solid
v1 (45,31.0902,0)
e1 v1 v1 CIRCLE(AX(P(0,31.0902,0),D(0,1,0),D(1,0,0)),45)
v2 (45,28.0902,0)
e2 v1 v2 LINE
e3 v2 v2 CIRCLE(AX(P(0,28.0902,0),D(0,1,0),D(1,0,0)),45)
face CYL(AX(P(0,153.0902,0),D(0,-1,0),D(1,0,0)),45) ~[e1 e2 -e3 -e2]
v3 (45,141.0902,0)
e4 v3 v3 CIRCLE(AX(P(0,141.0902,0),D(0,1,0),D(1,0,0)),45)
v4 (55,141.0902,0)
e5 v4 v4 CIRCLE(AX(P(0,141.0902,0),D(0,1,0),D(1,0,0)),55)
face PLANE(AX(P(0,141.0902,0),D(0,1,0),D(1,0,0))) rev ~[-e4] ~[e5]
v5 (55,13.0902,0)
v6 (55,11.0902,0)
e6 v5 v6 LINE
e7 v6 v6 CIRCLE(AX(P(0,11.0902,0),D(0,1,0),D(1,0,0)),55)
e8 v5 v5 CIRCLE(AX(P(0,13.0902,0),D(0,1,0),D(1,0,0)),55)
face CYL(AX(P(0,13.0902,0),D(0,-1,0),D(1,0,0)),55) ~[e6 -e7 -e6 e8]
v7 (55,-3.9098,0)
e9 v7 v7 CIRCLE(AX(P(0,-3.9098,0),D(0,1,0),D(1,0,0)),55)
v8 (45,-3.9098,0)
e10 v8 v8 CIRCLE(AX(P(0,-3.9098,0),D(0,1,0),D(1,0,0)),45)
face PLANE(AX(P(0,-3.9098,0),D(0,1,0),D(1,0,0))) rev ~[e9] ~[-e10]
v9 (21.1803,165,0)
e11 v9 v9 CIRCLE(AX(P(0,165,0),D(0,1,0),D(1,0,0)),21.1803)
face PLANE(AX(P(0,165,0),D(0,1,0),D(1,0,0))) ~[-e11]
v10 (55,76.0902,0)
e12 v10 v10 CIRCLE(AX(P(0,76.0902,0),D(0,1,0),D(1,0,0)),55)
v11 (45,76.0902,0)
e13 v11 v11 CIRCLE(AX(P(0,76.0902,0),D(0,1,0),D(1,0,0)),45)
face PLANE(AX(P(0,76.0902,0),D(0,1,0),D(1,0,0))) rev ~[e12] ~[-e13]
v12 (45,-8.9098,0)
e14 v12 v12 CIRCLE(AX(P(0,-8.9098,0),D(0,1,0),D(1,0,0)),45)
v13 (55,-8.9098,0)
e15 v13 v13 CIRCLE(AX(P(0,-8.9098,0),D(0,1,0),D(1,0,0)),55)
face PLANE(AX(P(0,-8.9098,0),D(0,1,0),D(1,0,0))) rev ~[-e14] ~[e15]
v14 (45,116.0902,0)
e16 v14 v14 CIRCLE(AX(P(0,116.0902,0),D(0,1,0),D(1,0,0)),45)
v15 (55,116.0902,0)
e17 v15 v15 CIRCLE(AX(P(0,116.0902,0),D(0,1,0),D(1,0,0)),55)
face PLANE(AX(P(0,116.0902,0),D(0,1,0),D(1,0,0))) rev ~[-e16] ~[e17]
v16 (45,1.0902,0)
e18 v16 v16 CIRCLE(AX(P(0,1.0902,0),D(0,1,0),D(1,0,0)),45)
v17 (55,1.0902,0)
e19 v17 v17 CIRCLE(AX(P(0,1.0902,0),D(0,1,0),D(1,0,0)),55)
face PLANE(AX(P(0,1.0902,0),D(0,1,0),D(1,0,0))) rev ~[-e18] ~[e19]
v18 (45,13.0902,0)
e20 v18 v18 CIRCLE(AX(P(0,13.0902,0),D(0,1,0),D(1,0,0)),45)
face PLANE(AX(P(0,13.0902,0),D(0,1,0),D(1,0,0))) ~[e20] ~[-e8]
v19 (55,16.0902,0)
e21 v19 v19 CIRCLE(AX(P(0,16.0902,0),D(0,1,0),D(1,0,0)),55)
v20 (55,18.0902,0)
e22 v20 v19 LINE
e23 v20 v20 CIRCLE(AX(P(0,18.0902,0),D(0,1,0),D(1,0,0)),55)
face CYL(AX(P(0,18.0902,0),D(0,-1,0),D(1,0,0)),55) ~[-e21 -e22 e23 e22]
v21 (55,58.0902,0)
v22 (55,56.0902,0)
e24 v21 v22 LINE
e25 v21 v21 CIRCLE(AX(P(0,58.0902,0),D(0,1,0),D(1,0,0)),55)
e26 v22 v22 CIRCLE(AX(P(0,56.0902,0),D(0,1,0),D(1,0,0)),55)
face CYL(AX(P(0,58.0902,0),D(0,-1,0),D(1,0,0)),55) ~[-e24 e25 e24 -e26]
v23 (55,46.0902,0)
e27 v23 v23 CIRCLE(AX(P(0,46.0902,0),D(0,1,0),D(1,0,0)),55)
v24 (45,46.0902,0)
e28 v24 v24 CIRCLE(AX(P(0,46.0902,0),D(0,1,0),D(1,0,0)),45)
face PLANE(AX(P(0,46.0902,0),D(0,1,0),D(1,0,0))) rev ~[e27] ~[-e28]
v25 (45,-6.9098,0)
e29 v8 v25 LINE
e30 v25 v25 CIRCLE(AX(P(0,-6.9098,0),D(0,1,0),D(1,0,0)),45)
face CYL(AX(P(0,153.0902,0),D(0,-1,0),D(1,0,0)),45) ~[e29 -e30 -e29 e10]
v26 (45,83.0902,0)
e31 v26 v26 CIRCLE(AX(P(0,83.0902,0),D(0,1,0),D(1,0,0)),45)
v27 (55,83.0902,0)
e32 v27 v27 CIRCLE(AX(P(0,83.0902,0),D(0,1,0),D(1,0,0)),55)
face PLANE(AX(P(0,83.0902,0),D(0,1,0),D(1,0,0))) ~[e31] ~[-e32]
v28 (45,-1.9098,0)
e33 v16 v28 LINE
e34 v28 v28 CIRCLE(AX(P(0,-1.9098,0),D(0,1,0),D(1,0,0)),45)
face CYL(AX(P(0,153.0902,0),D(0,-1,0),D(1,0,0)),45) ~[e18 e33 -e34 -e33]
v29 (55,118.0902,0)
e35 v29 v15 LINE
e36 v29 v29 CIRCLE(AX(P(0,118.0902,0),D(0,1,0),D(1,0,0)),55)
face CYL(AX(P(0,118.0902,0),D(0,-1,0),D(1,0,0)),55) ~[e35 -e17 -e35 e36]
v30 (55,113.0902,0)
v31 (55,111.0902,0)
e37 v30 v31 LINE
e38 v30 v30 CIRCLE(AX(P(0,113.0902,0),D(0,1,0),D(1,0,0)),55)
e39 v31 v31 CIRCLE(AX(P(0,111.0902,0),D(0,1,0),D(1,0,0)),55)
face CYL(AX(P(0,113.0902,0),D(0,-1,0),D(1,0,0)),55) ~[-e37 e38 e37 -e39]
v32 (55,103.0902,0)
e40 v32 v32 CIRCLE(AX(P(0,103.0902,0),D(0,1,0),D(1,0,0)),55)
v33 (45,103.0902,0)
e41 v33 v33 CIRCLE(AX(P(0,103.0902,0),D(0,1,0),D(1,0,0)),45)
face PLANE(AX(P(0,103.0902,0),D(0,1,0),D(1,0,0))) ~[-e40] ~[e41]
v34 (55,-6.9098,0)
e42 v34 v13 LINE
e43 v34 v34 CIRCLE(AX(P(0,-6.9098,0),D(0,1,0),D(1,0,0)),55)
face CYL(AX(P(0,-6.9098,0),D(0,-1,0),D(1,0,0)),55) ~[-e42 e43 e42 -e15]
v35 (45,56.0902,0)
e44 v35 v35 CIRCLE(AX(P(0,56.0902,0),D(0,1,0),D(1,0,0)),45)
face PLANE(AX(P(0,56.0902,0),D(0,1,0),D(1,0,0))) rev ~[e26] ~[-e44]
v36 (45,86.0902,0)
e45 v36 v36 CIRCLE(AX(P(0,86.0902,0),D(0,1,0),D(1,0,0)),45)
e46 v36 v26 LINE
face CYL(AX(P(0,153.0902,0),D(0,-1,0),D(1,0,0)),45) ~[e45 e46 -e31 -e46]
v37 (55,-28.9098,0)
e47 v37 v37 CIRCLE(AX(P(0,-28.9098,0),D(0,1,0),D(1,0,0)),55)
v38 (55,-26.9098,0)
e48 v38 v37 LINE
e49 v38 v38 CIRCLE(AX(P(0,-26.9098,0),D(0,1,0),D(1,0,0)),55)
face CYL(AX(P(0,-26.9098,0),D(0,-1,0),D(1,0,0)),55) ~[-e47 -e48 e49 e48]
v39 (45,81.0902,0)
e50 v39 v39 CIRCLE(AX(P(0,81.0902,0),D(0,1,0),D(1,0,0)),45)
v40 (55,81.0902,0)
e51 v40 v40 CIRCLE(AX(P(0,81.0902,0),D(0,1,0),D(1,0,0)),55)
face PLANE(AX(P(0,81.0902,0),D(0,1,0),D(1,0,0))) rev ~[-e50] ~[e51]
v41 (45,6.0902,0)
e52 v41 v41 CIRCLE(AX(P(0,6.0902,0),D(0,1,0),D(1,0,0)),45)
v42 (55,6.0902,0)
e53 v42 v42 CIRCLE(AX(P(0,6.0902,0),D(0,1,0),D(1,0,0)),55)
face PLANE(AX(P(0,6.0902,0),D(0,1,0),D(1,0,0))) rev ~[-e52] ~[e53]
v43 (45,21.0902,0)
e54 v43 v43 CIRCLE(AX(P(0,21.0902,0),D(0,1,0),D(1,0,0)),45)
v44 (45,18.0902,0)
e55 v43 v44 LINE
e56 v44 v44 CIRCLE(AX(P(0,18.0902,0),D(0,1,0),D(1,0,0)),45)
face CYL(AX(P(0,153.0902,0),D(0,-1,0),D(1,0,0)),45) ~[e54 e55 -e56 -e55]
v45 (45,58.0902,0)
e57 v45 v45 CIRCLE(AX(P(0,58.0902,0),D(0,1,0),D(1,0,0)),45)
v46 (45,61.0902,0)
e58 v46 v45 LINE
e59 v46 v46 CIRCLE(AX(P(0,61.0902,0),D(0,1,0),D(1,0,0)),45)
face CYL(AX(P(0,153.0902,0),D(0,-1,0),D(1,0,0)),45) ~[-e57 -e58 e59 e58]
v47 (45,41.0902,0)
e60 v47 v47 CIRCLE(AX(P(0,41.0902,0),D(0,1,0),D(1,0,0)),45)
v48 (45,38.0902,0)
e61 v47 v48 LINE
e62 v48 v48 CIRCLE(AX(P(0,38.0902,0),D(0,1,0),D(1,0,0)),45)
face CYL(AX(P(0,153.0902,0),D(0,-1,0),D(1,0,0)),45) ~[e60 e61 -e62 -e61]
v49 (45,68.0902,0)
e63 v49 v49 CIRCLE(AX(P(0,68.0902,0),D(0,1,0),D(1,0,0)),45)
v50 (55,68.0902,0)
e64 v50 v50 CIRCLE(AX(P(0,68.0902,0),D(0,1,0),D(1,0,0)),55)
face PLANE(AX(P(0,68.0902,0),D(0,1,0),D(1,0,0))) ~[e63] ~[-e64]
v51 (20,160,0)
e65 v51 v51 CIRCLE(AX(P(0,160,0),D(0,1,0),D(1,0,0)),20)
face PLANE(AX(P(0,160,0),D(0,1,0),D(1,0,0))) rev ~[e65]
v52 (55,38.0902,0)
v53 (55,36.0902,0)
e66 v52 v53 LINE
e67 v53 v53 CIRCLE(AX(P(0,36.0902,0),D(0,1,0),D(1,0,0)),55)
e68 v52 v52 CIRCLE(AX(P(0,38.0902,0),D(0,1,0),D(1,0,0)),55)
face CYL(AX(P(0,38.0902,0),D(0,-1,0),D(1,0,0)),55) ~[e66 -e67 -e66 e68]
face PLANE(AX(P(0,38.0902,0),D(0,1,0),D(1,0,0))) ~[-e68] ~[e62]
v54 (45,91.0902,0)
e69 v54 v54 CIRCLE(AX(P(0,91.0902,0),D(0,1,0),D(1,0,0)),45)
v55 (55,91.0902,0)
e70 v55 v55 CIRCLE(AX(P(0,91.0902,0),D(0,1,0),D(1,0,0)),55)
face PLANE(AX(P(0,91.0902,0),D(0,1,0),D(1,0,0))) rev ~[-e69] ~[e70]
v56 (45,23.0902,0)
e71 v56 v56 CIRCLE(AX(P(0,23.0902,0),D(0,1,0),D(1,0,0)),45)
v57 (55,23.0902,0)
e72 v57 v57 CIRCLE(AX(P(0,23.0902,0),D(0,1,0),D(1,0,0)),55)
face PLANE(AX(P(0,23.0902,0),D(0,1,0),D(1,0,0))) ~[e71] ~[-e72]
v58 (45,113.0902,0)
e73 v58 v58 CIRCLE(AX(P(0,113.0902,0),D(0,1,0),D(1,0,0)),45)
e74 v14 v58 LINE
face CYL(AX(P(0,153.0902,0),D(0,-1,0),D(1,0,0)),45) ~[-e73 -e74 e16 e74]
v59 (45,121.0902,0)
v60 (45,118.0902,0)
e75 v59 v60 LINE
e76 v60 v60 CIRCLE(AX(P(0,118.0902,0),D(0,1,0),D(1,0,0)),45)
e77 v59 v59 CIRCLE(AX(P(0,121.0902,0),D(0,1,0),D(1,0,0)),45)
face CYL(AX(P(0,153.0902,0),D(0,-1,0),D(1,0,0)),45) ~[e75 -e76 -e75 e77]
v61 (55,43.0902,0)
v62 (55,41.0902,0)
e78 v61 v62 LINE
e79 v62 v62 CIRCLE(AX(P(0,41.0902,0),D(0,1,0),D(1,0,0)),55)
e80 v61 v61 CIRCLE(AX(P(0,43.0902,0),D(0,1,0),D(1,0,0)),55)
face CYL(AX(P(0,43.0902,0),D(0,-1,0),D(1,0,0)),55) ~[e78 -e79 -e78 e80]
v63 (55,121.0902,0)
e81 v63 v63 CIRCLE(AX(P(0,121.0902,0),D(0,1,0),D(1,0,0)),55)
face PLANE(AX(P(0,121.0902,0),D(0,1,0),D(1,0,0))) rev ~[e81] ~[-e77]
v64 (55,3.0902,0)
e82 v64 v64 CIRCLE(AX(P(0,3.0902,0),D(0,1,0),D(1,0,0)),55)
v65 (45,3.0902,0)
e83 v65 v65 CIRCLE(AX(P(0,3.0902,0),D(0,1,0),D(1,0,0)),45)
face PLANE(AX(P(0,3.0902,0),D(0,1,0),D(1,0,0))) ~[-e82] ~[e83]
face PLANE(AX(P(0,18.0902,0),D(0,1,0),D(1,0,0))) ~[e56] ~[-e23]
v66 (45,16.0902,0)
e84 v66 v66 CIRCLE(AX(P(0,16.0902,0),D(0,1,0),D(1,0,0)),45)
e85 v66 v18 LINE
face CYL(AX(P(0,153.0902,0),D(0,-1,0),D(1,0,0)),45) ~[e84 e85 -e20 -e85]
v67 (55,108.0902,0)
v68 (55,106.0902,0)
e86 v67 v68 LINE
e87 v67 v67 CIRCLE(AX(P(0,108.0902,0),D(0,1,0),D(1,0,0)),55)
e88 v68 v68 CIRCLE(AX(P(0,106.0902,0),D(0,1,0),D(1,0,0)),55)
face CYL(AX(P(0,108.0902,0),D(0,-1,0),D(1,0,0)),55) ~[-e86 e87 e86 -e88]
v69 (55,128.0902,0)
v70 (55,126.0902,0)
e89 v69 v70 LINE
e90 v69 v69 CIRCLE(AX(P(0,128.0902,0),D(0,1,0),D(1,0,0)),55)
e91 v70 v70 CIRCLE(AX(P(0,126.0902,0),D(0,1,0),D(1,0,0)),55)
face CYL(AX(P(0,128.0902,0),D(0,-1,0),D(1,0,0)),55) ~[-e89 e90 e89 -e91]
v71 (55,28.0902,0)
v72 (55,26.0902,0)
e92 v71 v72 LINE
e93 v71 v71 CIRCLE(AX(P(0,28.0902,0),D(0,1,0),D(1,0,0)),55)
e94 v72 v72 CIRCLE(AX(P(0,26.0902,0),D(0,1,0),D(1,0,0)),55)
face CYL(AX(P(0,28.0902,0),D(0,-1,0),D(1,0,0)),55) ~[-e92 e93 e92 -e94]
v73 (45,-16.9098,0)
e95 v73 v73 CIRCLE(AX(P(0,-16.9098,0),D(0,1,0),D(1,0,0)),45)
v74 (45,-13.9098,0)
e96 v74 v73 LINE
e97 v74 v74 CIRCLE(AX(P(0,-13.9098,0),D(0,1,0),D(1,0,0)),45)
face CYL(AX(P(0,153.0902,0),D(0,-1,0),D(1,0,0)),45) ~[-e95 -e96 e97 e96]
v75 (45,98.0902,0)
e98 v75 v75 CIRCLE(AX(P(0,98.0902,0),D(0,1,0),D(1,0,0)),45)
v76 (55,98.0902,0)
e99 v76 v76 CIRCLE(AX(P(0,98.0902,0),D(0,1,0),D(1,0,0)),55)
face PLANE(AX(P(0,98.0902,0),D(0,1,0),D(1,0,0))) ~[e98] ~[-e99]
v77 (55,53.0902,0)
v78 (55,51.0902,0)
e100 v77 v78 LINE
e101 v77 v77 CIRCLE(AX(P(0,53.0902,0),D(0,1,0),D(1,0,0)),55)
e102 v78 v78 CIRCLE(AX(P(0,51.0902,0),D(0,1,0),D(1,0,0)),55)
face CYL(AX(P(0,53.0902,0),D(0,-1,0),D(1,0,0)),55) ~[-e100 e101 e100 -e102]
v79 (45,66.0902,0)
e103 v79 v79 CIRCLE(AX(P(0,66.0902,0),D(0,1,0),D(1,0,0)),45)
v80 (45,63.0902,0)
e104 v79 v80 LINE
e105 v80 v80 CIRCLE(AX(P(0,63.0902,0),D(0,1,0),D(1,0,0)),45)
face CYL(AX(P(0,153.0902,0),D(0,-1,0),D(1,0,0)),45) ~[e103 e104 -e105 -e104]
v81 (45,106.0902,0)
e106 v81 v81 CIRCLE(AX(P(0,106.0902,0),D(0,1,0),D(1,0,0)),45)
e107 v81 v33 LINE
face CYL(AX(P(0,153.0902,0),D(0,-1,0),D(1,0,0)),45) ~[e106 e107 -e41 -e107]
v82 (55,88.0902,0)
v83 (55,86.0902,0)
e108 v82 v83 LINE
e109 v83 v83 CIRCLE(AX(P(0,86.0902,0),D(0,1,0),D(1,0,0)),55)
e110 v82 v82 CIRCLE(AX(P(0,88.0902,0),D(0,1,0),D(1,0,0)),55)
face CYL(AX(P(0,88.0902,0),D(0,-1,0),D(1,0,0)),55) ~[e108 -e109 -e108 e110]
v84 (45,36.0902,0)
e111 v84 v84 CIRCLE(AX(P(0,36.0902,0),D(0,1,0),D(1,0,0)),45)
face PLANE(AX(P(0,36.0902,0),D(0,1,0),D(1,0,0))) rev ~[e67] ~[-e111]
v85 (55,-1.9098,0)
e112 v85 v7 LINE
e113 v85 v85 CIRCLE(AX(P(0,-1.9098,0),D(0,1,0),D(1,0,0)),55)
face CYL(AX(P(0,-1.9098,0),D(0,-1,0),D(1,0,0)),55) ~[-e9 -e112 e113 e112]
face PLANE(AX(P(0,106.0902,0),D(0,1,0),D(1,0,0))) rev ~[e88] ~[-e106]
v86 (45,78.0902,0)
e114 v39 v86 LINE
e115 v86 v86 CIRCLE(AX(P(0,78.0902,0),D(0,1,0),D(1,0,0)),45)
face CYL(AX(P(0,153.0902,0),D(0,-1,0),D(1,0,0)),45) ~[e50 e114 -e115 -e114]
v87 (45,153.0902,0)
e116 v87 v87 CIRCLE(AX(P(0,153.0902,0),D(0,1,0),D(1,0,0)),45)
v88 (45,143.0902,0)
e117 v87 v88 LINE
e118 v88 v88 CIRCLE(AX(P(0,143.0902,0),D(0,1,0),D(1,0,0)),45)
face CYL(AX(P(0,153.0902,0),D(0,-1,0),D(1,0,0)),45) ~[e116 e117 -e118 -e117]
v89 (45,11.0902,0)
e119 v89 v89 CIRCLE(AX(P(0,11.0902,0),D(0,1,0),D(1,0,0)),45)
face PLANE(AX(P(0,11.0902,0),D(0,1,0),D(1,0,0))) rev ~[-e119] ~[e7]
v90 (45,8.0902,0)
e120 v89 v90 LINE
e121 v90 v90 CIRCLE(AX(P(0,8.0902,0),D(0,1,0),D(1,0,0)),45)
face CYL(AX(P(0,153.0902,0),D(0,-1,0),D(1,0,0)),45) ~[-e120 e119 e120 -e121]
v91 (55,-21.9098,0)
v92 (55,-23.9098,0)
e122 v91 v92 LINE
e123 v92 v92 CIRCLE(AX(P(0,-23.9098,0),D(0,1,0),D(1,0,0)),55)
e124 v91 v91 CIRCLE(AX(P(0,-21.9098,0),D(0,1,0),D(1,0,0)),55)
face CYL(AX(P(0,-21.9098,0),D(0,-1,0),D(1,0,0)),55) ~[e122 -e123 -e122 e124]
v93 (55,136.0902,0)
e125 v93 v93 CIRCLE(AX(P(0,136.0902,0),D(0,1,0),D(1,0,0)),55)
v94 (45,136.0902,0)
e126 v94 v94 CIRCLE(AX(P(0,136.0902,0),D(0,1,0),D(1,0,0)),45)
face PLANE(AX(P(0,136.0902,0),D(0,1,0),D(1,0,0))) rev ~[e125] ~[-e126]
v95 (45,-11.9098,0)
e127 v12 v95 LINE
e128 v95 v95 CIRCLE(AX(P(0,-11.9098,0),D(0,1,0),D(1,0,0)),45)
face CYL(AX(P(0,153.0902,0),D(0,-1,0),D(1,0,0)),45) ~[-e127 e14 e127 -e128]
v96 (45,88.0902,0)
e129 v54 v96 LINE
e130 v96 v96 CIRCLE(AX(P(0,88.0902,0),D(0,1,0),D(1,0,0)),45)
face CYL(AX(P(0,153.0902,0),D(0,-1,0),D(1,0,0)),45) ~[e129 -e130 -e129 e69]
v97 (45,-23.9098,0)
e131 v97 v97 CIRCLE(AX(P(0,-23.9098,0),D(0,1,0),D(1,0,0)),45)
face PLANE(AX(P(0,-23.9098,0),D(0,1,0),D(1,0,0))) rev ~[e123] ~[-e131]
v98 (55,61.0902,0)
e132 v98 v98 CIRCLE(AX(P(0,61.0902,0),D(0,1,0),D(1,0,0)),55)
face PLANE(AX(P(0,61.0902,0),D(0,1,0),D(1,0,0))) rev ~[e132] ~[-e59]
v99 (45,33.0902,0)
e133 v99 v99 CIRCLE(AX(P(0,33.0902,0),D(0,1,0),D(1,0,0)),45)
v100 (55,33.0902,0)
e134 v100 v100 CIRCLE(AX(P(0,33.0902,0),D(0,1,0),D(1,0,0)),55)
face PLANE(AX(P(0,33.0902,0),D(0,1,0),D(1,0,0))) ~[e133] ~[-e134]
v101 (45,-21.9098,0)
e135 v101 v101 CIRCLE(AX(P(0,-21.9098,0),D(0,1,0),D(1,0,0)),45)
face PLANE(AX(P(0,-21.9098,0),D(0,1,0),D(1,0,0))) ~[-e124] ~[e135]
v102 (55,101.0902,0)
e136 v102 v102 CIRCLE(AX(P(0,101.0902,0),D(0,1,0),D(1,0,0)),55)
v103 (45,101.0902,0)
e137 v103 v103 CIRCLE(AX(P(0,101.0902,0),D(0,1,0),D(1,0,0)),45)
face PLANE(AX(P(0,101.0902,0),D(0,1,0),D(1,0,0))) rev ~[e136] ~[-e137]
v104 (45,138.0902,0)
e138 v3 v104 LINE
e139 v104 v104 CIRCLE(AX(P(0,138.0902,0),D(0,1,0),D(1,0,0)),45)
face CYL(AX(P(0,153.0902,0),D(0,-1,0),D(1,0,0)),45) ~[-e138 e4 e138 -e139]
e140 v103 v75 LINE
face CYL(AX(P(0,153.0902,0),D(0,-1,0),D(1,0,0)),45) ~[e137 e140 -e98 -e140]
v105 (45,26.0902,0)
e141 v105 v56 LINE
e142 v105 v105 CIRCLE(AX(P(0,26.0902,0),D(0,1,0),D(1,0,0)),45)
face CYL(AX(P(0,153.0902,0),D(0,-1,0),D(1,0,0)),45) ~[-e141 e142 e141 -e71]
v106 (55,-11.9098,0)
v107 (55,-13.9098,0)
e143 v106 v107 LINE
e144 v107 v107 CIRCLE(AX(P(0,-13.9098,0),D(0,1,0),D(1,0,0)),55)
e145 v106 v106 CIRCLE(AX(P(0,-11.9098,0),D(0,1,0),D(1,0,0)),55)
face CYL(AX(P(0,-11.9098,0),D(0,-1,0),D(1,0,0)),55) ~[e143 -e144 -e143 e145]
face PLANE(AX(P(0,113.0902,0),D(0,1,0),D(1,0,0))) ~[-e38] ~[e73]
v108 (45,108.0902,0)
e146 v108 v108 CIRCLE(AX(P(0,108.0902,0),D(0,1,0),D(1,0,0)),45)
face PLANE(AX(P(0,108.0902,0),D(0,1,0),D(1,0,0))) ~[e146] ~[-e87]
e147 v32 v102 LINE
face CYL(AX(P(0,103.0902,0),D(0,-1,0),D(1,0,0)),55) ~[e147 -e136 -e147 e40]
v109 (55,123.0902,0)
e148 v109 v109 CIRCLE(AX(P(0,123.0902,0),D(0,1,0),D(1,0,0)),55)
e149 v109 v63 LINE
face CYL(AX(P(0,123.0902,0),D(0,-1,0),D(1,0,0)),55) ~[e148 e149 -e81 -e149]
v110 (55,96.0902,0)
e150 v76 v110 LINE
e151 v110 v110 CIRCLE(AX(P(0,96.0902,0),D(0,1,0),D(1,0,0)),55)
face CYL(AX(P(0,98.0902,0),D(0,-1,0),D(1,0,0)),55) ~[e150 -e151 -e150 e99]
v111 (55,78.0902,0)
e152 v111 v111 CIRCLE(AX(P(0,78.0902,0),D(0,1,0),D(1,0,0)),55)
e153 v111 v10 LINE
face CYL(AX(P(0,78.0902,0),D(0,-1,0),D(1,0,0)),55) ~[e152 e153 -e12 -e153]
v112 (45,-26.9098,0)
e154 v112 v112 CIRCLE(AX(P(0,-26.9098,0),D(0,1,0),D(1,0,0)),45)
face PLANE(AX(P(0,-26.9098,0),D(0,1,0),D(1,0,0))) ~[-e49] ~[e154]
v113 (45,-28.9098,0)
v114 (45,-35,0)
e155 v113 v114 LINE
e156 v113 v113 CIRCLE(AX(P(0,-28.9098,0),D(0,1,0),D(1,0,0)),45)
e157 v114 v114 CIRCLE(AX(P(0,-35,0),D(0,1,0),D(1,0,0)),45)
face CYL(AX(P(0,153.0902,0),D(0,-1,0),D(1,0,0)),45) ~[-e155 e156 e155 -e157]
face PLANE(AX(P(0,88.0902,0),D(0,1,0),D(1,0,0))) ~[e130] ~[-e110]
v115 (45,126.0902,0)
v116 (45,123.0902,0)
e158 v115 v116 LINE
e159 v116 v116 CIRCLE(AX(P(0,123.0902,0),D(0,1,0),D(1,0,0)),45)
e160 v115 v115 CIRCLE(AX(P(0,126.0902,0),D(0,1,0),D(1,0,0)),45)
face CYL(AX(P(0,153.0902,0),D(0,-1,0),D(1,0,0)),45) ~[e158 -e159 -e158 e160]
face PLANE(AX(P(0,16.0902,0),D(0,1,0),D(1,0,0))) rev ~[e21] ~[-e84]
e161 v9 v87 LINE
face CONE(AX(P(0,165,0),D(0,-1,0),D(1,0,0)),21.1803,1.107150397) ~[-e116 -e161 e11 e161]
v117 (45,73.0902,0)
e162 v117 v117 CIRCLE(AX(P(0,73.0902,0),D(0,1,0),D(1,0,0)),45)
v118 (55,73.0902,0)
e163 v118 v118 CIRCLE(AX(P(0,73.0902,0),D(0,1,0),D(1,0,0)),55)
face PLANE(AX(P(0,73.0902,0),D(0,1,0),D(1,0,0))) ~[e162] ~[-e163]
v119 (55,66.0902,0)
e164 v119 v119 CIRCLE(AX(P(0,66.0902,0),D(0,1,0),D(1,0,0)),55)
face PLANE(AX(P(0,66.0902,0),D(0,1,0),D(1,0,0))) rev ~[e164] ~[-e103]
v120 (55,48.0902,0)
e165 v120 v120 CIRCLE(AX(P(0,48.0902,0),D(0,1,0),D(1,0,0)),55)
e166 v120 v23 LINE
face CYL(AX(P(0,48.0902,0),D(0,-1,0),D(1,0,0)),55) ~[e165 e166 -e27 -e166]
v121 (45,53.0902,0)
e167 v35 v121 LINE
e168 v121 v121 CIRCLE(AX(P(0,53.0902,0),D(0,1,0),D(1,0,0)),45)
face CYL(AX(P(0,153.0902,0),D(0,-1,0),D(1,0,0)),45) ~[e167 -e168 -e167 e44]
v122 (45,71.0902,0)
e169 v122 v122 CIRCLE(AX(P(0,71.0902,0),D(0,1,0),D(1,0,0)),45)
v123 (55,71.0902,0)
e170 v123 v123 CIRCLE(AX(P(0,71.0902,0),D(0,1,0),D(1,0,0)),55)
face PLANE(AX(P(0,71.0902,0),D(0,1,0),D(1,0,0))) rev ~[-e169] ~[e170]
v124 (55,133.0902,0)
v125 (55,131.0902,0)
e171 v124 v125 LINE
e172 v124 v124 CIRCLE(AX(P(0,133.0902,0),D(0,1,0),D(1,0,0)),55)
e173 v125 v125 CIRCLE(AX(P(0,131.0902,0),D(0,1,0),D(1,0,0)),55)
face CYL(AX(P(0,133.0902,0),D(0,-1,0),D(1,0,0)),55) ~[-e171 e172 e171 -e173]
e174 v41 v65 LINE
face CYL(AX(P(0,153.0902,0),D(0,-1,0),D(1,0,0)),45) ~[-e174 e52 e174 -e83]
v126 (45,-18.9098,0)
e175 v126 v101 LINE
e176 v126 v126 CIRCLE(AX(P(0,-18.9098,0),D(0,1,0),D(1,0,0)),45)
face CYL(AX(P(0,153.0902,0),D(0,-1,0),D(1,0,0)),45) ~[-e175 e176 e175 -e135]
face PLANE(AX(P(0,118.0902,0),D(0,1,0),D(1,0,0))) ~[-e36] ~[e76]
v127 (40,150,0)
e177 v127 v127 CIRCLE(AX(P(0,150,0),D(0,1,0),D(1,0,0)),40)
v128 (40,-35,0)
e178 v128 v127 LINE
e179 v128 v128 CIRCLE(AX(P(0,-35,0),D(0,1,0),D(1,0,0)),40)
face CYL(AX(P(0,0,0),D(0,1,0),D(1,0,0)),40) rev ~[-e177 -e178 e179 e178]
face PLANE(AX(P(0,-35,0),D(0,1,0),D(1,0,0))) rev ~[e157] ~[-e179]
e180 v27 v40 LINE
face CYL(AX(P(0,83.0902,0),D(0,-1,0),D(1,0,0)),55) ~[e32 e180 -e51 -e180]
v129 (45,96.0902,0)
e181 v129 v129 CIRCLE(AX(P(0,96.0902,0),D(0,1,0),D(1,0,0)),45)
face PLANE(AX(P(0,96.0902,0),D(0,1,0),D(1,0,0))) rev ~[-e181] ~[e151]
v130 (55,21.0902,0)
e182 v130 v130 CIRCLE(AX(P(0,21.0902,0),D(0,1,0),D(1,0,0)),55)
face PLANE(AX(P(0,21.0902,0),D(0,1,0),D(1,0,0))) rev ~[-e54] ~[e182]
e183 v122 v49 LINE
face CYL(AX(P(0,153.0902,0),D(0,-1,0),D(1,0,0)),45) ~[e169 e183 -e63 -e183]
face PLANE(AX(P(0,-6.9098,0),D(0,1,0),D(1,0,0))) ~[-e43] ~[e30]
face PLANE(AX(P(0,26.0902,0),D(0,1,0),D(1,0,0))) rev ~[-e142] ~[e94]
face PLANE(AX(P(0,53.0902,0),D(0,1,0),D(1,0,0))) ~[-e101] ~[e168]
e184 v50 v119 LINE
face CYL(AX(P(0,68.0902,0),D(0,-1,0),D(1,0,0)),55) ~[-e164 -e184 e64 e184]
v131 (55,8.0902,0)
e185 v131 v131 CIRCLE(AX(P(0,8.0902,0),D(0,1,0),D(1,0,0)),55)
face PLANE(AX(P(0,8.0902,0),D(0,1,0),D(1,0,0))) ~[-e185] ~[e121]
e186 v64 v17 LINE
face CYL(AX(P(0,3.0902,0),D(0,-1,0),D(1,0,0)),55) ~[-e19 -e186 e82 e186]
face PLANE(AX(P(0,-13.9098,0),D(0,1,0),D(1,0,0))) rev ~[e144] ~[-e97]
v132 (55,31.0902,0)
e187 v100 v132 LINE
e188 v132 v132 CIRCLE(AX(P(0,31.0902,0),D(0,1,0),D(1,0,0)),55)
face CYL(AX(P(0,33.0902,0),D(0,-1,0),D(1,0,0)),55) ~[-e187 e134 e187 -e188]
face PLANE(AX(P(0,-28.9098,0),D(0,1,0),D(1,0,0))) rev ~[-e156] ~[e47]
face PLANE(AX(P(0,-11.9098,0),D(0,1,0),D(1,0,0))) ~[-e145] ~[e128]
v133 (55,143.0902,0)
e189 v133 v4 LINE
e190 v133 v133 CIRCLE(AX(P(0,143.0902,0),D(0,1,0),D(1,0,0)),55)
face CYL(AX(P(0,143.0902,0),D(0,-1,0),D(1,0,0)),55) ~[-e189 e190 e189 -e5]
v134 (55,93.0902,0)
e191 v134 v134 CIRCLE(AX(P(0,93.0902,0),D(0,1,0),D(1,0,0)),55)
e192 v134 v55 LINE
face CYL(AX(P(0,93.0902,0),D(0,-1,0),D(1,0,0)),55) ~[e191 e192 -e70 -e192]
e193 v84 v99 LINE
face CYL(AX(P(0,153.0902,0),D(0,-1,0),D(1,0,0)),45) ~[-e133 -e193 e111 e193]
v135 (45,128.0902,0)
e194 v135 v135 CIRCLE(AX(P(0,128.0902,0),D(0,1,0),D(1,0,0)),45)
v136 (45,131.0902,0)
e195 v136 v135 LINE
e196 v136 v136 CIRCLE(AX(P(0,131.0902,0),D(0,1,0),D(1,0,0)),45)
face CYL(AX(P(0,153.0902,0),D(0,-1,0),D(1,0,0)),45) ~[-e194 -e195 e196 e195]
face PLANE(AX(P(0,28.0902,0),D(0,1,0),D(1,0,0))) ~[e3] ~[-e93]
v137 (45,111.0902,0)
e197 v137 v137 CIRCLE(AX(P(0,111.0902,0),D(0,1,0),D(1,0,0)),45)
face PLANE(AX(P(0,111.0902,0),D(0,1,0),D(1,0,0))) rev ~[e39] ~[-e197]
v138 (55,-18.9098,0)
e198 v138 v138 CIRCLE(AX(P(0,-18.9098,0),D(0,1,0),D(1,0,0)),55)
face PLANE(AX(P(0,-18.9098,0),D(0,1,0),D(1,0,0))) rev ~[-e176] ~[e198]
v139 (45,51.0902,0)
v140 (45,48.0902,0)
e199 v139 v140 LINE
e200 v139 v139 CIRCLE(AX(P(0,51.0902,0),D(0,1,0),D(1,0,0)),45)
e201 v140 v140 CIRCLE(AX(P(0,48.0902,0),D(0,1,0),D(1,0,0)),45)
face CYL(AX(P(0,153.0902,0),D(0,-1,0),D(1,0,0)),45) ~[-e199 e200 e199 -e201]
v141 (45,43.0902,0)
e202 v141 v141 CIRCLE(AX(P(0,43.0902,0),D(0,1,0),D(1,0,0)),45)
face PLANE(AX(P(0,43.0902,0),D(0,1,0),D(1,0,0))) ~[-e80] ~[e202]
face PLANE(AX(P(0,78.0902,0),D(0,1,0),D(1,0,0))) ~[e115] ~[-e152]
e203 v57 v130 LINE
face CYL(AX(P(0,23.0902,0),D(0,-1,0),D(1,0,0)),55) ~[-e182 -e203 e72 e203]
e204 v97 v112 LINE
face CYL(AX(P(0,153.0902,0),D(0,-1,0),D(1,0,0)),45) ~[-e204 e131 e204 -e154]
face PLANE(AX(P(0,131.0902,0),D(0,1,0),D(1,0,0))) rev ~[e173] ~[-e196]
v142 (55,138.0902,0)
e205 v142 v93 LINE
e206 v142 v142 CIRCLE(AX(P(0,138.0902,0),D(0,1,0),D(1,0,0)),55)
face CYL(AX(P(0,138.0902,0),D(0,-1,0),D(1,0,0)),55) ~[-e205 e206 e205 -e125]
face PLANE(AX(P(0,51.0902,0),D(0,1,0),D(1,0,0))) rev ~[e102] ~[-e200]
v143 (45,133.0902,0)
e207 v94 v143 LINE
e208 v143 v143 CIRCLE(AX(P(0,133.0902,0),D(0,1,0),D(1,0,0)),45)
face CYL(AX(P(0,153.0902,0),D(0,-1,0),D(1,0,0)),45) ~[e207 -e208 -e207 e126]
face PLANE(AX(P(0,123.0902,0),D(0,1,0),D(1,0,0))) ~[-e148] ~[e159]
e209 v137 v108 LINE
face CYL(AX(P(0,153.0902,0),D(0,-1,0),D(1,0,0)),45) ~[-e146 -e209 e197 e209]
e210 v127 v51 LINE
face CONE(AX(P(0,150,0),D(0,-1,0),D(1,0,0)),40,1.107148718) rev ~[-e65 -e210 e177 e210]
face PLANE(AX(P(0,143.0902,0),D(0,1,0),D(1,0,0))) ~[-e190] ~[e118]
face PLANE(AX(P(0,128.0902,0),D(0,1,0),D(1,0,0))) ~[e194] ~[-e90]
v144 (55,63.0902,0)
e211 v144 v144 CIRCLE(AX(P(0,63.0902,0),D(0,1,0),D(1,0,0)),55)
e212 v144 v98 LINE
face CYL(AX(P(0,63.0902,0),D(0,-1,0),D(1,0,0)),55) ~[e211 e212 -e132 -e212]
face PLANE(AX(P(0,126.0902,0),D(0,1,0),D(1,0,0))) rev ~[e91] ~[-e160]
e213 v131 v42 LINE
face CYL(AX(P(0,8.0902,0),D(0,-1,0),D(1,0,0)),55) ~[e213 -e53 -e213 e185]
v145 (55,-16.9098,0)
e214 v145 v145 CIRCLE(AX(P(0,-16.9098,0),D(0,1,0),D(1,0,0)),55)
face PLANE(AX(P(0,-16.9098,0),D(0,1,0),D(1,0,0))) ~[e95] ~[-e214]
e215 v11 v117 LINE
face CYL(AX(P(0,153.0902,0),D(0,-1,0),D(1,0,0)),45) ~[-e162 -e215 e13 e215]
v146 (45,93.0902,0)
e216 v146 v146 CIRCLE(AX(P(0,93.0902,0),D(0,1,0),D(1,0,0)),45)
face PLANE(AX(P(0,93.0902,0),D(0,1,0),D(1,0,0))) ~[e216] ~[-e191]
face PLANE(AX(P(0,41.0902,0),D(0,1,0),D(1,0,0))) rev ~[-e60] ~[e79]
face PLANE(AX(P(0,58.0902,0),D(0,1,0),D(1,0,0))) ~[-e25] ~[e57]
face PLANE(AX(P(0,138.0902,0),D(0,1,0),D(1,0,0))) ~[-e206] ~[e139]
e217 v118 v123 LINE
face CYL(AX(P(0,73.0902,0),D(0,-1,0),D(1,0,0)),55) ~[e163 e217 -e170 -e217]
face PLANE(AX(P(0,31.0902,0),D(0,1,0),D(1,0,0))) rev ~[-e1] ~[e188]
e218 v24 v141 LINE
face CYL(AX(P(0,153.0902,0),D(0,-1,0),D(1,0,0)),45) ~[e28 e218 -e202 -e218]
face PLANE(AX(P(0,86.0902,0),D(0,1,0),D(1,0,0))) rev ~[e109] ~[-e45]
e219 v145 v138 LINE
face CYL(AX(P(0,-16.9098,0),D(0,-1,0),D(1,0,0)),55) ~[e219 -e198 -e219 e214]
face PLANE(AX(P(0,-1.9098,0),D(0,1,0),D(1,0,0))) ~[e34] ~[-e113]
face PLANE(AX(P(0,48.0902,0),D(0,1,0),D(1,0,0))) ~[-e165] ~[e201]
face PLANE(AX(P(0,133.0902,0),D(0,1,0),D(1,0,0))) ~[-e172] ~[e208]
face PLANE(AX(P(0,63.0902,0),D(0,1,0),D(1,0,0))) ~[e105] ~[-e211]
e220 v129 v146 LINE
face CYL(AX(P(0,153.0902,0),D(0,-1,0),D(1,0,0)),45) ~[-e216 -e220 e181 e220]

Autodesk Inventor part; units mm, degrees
ref_plane "YZ Plane" through (0, 0, 0) normal (1, 0, 0) x (0, 1, 0)
ref_plane "XZ Plane" through (0, 0, 0) normal (0, 1, 0) x (-1, 0, 0)
ref_plane "XY Plane" through (0, 0, 0) normal (0, 0, 1) x (1, 0, 0)
sketch "Sketch1" plane through (0, 0, 0) normal (0, 0, 1) x (1, 0, 0)
  line L0 (40, 0) -> (40, 150)
  line L1 (40, 150) -> (20, 160)
  line L2 (20, 160) -> (0, 160)
  line L3 (0, 165) -> (21.1803, 165)
  line L4 (21.1803, 165) -> (45, 153.0902)
  line L5 (45, 153.0902) -> (45, -35)
  line L6 (45, -35) -> (40, -35)
  line L7 (0, -5) -> (0, 129.0368) construction
  line L8 (45, 143.0902) -> (55, 143.0902)
  line L9 (55, 143.0902) -> (55, 141.0902)
  line L10 (55, 141.0902) -> (45, 141.0902)
  line L11 (45, 141.0902) -> (45, 143.0902)
  line L12 (45, 138.0902) -> (55, 138.0902)
  line L13 (55, 138.0902) -> (55, 136.0902)
  line L14 (55, 136.0902) -> (45, 136.0902)
  line L15 (45, 136.0902) -> (45, 138.0902)
  line L16 (45, 133.0902) -> (55, 133.0902)
  line L17 (55, 133.0902) -> (55, 131.0902)
  line L18 (55, 131.0902) -> (45, 131.0902)
  line L19 (45, 131.0902) -> (45, 133.0902)
  line L20 (45, 128.0902) -> (55, 128.0902)
  line L21 (55, 128.0902) -> (55, 126.0902)
  line L22 (55, 126.0902) -> (45, 126.0902)
  line L23 (45, 126.0902) -> (45, 128.0902)
  line L24 (45, 123.0902) -> (55, 123.0902)
  line L25 (55, 123.0902) -> (55, 121.0902)
  line L26 (55, 121.0902) -> (45, 121.0902)
  line L27 (45, 121.0902) -> (45, 123.0902)
  line L28 (45, 118.0902) -> (55, 118.0902)
  line L29 (55, 118.0902) -> (55, 116.0902)
  line L30 (55, 116.0902) -> (45, 116.0902)
  line L31 (45, 116.0902) -> (45, 118.0902)
  line L32 (45, 113.0902) -> (55, 113.0902)
  line L33 (55, 113.0902) -> (55, 111.0902)
  line L34 (55, 111.0902) -> (45, 111.0902)
  line L35 (45, 111.0902) -> (45, 113.0902)
  line L36 (45, 108.0902) -> (55, 108.0902)
  line L37 (55, 108.0902) -> (55, 106.0902)
  line L38 (55, 106.0902) -> (45, 106.0902)
  line L39 (45, 106.0902) -> (45, 108.0902)
  line L40 (45, 103.0902) -> (55, 103.0902)
  line L41 (55, 103.0902) -> (55, 101.0902)
  line L42 (55, 101.0902) -> (45, 101.0902)
  line L43 (45, 101.0902) -> (45, 103.0902)
  line L44 (45, 98.0902) -> (55, 98.0902)
  line L45 (55, 98.0902) -> (55, 96.0902)
  line L46 (55, 96.0902) -> (45, 96.0902)
  line L47 (45, 96.0902) -> (45, 98.0902)
  line L48 (0, 160) -> (0, 165)
  line L49 (45, 91.0902) -> (45, 93.0902)
  line L50 (55, 91.0902) -> (45, 91.0902)
  line L51 (45, 93.0902) -> (55, 93.0902)
  line L52 (55, 93.0902) -> (55, 91.0902)
  line L53 (45, 86.0902) -> (45, 88.0902)
  line L54 (55, 86.0902) -> (45, 86.0902)
  line L55 (45, 88.0902) -> (55, 88.0902)
  line L56 (55, 88.0902) -> (55, 86.0902)
  line L57 (45, 81.0902) -> (45, 83.0902)
  line L58 (55, 81.0902) -> (45, 81.0902)
  line L59 (45, 83.0902) -> (55, 83.0902)
  line L60 (55, 83.0902) -> (55, 81.0902)
  line L61 (45, 76.0902) -> (45, 78.0902)
  line L62 (55, 76.0902) -> (45, 76.0902)
  line L63 (45, 78.0902) -> (55, 78.0902)
  line L64 (55, 78.0902) -> (55, 76.0902)
  line L65 (45, 71.0902) -> (45, 73.0902)
  line L66 (55, 71.0902) -> (45, 71.0902)
  line L67 (45, 73.0902) -> (55, 73.0902)
  line L68 (55, 73.0902) -> (55, 71.0902)
  line L69 (45, 66.0902) -> (45, 68.0902)
  line L70 (55, 66.0902) -> (45, 66.0902)
  line L71 (45, 68.0902) -> (55, 68.0902)
  line L72 (55, 68.0902) -> (55, 66.0902)
  line L73 (45, 61.0902) -> (45, 63.0902)
  line L74 (55, 61.0902) -> (45, 61.0902)
  line L75 (45, 63.0902) -> (55, 63.0902)
  line L76 (55, 63.0902) -> (55, 61.0902)
  line L77 (45, 56.0902) -> (45, 58.0902)
  line L78 (55, 56.0902) -> (45, 56.0902)
  line L79 (45, 58.0902) -> (55, 58.0902)
  line L80 (55, 58.0902) -> (55, 56.0902)
  line L81 (40, 0) -> (40, -35)
  line L82 (45, 51.0902) -> (45, 53.0902)
  line L83 (45, 53.0902) -> (55, 53.0902)
  line L84 (55, 51.0902) -> (45, 51.0902)
  line L85 (55, 53.0902) -> (55, 51.0902)
  line L86 (45, 46.0902) -> (45, 48.0902)
  line L87 (45, 48.0902) -> (55, 48.0902)
  line L88 (55, 46.0902) -> (45, 46.0902)
  line L89 (55, 48.0902) -> (55, 46.0902)
  line L90 (45, 41.0902) -> (45, 43.0902)
  line L91 (45, 43.0902) -> (55, 43.0902)
  line L92 (55, 41.0902) -> (45, 41.0902)
  line L93 (55, 43.0902) -> (55, 41.0902)
  line L94 (45, 36.0902) -> (45, 38.0902)
  line L95 (45, 38.0902) -> (55, 38.0902)
  line L96 (55, 36.0902) -> (45, 36.0902)
  line L97 (55, 38.0902) -> (55, 36.0902)
  line L98 (45, 31.0902) -> (45, 33.0902)
  line L99 (45, 33.0902) -> (55, 33.0902)
  line L100 (55, 31.0902) -> (45, 31.0902)
  line L101 (55, 33.0902) -> (55, 31.0902)
  line L102 (45, 26.0902) -> (45, 28.0902)
  line L103 (45, 28.0902) -> (55, 28.0902)
  line L104 (55, 26.0902) -> (45, 26.0902)
  line L105 (55, 28.0902) -> (55, 26.0902)
  line L106 (45, 21.0902) -> (45, 23.0902)
  line L107 (45, 23.0902) -> (55, 23.0902)
  line L108 (55, 21.0902) -> (45, 21.0902)
  line L109 (55, 23.0902) -> (55, 21.0902)
  line L110 (45, 16.0902) -> (45, 18.0902)
  line L111 (45, 18.0902) -> (55, 18.0902)
  line L112 (55, 16.0902) -> (45, 16.0902)
  line L113 (55, 18.0902) -> (55, 16.0902)
  line L114 (45, 11.0902) -> (45, 13.0902)
  line L115 (45, 13.0902) -> (55, 13.0902)
  line L116 (55, 11.0902) -> (45, 11.0902)
  line L117 (55, 13.0902) -> (55, 11.0902)
  line L118 (55, 8.0902) -> (55, 6.0902)
  line L119 (45, 8.0902) -> (55, 8.0902)
  line L120 (55, 6.0902) -> (45, 6.0902)
  line L121 (45, 6.0902) -> (45, 8.0902)
  line L122 (55, 3.0902) -> (55, 1.0902)
  line L123 (45, 3.0902) -> (55, 3.0902)
  line L124 (55, 1.0902) -> (45, 1.0902)
  line L125 (45, 1.0902) -> (45, 3.0902)
  line L126 (55, -1.9098) -> (55, -3.9098)
  line L127 (45, -1.9098) -> (55, -1.9098)
  line L128 (55, -3.9098) -> (45, -3.9098)
  line L129 (45, -3.9098) -> (45, -1.9098)
  line L130 (45, -8.9098) -> (45, -6.9098)
  line L131 (45, -6.9098) -> (55, -6.9098)
  line L132 (55, -6.9098) -> (55, -8.9098)
  line L133 (55, -8.9098) -> (45, -8.9098)
  line L134 (45, -13.9098) -> (45, -11.9098)
  line L135 (45, -11.9098) -> (55, -11.9098)
  line L136 (55, -11.9098) -> (55, -13.9098)
  line L137 (55, -13.9098) -> (45, -13.9098)
  line L138 (45, -18.9098) -> (45, -16.9098)
  line L139 (45, -16.9098) -> (55, -16.9098)
  line L140 (55, -16.9098) -> (55, -18.9098)
  line L141 (55, -18.9098) -> (45, -18.9098)
  line L142 (45, -23.9098) -> (45, -21.9098)
  line L143 (45, -21.9098) -> (55, -21.9098)
  line L144 (55, -21.9098) -> (55, -23.9098)
  line L145 (55, -23.9098) -> (45, -23.9098)
  line L146 (45, -28.9098) -> (45, -26.9098)
  line L147 (45, -26.9098) -> (55, -26.9098)
  line L148 (55, -26.9098) -> (55, -28.9098)
  line L149 (55, -28.9098) -> (45, -28.9098)
  point P0 (0, 0)
  dimension "d34" = 40
  dimension "d36" = 20
  dimension "d37" = 10
  dimension "d38" = 5
  dimension "d39" = 10
  dimension "d40" = 2
  dimension "d41" = 10
  dimension "d42" = 10
  dimension "d43" = 2
  dimension "d44" = 10
  dimension "d45" = 2
  dimension "d46" = 10
  dimension "d47" = 2
  dimension "d48" = 10
  dimension "d49" = 2
  dimension "d50" = 10
  dimension "d51" = 2
  dimension "d52" = 10
  dimension "d53" = 2
  dimension "d54" = 10
  dimension "d55" = 2
  dimension "d56" = 10
  dimension "d57" = 2
  dimension "d59" = 2
  dimension "d62" = 3
  dimension "d63" = 3
  dimension "d64" = 3
  dimension "d65" = 3
  dimension "d66" = 3
  dimension "d67" = 3
  dimension "d68" = 3
  dimension "d69" = 3
  dimension "d70" = 3
  dimension "d73" = 2
  dimension "d74" = 2
  dimension "d75" = 2
  dimension "d76" = 2
  dimension "d77" = 2
  dimension "d78" = 2
  dimension "d79" = 2
  dimension "d80" = 2
  dimension "d81" = 3
  dimension "d82" = 10
  dimension "d83" = 3
  dimension "d84" = 3
  dimension "d85" = 3
  dimension "d86" = 3
  dimension "d87" = 3
  dimension "d88" = 3
  dimension "d89" = 3
  dimension "d90" = 195
  dimension "d91" = 2
  dimension "d92" = 2
  dimension "d93" = 2
  dimension "d94" = 2
  dimension "d95" = 2
  dimension "d96" = 2
  dimension "d97" = 2
  dimension "d98" = 2
  dimension "d99" = 2
  dimension "d101" = 3
  dimension "d102" = 3
  dimension "d103" = 3
  dimension "d104" = 3
revolve "Revolution1" add sketch "Sketch1" angle 360 about axis through (0, -5, 0) along (0, 1, 0)
properties part number "engine block" material "Lead"
